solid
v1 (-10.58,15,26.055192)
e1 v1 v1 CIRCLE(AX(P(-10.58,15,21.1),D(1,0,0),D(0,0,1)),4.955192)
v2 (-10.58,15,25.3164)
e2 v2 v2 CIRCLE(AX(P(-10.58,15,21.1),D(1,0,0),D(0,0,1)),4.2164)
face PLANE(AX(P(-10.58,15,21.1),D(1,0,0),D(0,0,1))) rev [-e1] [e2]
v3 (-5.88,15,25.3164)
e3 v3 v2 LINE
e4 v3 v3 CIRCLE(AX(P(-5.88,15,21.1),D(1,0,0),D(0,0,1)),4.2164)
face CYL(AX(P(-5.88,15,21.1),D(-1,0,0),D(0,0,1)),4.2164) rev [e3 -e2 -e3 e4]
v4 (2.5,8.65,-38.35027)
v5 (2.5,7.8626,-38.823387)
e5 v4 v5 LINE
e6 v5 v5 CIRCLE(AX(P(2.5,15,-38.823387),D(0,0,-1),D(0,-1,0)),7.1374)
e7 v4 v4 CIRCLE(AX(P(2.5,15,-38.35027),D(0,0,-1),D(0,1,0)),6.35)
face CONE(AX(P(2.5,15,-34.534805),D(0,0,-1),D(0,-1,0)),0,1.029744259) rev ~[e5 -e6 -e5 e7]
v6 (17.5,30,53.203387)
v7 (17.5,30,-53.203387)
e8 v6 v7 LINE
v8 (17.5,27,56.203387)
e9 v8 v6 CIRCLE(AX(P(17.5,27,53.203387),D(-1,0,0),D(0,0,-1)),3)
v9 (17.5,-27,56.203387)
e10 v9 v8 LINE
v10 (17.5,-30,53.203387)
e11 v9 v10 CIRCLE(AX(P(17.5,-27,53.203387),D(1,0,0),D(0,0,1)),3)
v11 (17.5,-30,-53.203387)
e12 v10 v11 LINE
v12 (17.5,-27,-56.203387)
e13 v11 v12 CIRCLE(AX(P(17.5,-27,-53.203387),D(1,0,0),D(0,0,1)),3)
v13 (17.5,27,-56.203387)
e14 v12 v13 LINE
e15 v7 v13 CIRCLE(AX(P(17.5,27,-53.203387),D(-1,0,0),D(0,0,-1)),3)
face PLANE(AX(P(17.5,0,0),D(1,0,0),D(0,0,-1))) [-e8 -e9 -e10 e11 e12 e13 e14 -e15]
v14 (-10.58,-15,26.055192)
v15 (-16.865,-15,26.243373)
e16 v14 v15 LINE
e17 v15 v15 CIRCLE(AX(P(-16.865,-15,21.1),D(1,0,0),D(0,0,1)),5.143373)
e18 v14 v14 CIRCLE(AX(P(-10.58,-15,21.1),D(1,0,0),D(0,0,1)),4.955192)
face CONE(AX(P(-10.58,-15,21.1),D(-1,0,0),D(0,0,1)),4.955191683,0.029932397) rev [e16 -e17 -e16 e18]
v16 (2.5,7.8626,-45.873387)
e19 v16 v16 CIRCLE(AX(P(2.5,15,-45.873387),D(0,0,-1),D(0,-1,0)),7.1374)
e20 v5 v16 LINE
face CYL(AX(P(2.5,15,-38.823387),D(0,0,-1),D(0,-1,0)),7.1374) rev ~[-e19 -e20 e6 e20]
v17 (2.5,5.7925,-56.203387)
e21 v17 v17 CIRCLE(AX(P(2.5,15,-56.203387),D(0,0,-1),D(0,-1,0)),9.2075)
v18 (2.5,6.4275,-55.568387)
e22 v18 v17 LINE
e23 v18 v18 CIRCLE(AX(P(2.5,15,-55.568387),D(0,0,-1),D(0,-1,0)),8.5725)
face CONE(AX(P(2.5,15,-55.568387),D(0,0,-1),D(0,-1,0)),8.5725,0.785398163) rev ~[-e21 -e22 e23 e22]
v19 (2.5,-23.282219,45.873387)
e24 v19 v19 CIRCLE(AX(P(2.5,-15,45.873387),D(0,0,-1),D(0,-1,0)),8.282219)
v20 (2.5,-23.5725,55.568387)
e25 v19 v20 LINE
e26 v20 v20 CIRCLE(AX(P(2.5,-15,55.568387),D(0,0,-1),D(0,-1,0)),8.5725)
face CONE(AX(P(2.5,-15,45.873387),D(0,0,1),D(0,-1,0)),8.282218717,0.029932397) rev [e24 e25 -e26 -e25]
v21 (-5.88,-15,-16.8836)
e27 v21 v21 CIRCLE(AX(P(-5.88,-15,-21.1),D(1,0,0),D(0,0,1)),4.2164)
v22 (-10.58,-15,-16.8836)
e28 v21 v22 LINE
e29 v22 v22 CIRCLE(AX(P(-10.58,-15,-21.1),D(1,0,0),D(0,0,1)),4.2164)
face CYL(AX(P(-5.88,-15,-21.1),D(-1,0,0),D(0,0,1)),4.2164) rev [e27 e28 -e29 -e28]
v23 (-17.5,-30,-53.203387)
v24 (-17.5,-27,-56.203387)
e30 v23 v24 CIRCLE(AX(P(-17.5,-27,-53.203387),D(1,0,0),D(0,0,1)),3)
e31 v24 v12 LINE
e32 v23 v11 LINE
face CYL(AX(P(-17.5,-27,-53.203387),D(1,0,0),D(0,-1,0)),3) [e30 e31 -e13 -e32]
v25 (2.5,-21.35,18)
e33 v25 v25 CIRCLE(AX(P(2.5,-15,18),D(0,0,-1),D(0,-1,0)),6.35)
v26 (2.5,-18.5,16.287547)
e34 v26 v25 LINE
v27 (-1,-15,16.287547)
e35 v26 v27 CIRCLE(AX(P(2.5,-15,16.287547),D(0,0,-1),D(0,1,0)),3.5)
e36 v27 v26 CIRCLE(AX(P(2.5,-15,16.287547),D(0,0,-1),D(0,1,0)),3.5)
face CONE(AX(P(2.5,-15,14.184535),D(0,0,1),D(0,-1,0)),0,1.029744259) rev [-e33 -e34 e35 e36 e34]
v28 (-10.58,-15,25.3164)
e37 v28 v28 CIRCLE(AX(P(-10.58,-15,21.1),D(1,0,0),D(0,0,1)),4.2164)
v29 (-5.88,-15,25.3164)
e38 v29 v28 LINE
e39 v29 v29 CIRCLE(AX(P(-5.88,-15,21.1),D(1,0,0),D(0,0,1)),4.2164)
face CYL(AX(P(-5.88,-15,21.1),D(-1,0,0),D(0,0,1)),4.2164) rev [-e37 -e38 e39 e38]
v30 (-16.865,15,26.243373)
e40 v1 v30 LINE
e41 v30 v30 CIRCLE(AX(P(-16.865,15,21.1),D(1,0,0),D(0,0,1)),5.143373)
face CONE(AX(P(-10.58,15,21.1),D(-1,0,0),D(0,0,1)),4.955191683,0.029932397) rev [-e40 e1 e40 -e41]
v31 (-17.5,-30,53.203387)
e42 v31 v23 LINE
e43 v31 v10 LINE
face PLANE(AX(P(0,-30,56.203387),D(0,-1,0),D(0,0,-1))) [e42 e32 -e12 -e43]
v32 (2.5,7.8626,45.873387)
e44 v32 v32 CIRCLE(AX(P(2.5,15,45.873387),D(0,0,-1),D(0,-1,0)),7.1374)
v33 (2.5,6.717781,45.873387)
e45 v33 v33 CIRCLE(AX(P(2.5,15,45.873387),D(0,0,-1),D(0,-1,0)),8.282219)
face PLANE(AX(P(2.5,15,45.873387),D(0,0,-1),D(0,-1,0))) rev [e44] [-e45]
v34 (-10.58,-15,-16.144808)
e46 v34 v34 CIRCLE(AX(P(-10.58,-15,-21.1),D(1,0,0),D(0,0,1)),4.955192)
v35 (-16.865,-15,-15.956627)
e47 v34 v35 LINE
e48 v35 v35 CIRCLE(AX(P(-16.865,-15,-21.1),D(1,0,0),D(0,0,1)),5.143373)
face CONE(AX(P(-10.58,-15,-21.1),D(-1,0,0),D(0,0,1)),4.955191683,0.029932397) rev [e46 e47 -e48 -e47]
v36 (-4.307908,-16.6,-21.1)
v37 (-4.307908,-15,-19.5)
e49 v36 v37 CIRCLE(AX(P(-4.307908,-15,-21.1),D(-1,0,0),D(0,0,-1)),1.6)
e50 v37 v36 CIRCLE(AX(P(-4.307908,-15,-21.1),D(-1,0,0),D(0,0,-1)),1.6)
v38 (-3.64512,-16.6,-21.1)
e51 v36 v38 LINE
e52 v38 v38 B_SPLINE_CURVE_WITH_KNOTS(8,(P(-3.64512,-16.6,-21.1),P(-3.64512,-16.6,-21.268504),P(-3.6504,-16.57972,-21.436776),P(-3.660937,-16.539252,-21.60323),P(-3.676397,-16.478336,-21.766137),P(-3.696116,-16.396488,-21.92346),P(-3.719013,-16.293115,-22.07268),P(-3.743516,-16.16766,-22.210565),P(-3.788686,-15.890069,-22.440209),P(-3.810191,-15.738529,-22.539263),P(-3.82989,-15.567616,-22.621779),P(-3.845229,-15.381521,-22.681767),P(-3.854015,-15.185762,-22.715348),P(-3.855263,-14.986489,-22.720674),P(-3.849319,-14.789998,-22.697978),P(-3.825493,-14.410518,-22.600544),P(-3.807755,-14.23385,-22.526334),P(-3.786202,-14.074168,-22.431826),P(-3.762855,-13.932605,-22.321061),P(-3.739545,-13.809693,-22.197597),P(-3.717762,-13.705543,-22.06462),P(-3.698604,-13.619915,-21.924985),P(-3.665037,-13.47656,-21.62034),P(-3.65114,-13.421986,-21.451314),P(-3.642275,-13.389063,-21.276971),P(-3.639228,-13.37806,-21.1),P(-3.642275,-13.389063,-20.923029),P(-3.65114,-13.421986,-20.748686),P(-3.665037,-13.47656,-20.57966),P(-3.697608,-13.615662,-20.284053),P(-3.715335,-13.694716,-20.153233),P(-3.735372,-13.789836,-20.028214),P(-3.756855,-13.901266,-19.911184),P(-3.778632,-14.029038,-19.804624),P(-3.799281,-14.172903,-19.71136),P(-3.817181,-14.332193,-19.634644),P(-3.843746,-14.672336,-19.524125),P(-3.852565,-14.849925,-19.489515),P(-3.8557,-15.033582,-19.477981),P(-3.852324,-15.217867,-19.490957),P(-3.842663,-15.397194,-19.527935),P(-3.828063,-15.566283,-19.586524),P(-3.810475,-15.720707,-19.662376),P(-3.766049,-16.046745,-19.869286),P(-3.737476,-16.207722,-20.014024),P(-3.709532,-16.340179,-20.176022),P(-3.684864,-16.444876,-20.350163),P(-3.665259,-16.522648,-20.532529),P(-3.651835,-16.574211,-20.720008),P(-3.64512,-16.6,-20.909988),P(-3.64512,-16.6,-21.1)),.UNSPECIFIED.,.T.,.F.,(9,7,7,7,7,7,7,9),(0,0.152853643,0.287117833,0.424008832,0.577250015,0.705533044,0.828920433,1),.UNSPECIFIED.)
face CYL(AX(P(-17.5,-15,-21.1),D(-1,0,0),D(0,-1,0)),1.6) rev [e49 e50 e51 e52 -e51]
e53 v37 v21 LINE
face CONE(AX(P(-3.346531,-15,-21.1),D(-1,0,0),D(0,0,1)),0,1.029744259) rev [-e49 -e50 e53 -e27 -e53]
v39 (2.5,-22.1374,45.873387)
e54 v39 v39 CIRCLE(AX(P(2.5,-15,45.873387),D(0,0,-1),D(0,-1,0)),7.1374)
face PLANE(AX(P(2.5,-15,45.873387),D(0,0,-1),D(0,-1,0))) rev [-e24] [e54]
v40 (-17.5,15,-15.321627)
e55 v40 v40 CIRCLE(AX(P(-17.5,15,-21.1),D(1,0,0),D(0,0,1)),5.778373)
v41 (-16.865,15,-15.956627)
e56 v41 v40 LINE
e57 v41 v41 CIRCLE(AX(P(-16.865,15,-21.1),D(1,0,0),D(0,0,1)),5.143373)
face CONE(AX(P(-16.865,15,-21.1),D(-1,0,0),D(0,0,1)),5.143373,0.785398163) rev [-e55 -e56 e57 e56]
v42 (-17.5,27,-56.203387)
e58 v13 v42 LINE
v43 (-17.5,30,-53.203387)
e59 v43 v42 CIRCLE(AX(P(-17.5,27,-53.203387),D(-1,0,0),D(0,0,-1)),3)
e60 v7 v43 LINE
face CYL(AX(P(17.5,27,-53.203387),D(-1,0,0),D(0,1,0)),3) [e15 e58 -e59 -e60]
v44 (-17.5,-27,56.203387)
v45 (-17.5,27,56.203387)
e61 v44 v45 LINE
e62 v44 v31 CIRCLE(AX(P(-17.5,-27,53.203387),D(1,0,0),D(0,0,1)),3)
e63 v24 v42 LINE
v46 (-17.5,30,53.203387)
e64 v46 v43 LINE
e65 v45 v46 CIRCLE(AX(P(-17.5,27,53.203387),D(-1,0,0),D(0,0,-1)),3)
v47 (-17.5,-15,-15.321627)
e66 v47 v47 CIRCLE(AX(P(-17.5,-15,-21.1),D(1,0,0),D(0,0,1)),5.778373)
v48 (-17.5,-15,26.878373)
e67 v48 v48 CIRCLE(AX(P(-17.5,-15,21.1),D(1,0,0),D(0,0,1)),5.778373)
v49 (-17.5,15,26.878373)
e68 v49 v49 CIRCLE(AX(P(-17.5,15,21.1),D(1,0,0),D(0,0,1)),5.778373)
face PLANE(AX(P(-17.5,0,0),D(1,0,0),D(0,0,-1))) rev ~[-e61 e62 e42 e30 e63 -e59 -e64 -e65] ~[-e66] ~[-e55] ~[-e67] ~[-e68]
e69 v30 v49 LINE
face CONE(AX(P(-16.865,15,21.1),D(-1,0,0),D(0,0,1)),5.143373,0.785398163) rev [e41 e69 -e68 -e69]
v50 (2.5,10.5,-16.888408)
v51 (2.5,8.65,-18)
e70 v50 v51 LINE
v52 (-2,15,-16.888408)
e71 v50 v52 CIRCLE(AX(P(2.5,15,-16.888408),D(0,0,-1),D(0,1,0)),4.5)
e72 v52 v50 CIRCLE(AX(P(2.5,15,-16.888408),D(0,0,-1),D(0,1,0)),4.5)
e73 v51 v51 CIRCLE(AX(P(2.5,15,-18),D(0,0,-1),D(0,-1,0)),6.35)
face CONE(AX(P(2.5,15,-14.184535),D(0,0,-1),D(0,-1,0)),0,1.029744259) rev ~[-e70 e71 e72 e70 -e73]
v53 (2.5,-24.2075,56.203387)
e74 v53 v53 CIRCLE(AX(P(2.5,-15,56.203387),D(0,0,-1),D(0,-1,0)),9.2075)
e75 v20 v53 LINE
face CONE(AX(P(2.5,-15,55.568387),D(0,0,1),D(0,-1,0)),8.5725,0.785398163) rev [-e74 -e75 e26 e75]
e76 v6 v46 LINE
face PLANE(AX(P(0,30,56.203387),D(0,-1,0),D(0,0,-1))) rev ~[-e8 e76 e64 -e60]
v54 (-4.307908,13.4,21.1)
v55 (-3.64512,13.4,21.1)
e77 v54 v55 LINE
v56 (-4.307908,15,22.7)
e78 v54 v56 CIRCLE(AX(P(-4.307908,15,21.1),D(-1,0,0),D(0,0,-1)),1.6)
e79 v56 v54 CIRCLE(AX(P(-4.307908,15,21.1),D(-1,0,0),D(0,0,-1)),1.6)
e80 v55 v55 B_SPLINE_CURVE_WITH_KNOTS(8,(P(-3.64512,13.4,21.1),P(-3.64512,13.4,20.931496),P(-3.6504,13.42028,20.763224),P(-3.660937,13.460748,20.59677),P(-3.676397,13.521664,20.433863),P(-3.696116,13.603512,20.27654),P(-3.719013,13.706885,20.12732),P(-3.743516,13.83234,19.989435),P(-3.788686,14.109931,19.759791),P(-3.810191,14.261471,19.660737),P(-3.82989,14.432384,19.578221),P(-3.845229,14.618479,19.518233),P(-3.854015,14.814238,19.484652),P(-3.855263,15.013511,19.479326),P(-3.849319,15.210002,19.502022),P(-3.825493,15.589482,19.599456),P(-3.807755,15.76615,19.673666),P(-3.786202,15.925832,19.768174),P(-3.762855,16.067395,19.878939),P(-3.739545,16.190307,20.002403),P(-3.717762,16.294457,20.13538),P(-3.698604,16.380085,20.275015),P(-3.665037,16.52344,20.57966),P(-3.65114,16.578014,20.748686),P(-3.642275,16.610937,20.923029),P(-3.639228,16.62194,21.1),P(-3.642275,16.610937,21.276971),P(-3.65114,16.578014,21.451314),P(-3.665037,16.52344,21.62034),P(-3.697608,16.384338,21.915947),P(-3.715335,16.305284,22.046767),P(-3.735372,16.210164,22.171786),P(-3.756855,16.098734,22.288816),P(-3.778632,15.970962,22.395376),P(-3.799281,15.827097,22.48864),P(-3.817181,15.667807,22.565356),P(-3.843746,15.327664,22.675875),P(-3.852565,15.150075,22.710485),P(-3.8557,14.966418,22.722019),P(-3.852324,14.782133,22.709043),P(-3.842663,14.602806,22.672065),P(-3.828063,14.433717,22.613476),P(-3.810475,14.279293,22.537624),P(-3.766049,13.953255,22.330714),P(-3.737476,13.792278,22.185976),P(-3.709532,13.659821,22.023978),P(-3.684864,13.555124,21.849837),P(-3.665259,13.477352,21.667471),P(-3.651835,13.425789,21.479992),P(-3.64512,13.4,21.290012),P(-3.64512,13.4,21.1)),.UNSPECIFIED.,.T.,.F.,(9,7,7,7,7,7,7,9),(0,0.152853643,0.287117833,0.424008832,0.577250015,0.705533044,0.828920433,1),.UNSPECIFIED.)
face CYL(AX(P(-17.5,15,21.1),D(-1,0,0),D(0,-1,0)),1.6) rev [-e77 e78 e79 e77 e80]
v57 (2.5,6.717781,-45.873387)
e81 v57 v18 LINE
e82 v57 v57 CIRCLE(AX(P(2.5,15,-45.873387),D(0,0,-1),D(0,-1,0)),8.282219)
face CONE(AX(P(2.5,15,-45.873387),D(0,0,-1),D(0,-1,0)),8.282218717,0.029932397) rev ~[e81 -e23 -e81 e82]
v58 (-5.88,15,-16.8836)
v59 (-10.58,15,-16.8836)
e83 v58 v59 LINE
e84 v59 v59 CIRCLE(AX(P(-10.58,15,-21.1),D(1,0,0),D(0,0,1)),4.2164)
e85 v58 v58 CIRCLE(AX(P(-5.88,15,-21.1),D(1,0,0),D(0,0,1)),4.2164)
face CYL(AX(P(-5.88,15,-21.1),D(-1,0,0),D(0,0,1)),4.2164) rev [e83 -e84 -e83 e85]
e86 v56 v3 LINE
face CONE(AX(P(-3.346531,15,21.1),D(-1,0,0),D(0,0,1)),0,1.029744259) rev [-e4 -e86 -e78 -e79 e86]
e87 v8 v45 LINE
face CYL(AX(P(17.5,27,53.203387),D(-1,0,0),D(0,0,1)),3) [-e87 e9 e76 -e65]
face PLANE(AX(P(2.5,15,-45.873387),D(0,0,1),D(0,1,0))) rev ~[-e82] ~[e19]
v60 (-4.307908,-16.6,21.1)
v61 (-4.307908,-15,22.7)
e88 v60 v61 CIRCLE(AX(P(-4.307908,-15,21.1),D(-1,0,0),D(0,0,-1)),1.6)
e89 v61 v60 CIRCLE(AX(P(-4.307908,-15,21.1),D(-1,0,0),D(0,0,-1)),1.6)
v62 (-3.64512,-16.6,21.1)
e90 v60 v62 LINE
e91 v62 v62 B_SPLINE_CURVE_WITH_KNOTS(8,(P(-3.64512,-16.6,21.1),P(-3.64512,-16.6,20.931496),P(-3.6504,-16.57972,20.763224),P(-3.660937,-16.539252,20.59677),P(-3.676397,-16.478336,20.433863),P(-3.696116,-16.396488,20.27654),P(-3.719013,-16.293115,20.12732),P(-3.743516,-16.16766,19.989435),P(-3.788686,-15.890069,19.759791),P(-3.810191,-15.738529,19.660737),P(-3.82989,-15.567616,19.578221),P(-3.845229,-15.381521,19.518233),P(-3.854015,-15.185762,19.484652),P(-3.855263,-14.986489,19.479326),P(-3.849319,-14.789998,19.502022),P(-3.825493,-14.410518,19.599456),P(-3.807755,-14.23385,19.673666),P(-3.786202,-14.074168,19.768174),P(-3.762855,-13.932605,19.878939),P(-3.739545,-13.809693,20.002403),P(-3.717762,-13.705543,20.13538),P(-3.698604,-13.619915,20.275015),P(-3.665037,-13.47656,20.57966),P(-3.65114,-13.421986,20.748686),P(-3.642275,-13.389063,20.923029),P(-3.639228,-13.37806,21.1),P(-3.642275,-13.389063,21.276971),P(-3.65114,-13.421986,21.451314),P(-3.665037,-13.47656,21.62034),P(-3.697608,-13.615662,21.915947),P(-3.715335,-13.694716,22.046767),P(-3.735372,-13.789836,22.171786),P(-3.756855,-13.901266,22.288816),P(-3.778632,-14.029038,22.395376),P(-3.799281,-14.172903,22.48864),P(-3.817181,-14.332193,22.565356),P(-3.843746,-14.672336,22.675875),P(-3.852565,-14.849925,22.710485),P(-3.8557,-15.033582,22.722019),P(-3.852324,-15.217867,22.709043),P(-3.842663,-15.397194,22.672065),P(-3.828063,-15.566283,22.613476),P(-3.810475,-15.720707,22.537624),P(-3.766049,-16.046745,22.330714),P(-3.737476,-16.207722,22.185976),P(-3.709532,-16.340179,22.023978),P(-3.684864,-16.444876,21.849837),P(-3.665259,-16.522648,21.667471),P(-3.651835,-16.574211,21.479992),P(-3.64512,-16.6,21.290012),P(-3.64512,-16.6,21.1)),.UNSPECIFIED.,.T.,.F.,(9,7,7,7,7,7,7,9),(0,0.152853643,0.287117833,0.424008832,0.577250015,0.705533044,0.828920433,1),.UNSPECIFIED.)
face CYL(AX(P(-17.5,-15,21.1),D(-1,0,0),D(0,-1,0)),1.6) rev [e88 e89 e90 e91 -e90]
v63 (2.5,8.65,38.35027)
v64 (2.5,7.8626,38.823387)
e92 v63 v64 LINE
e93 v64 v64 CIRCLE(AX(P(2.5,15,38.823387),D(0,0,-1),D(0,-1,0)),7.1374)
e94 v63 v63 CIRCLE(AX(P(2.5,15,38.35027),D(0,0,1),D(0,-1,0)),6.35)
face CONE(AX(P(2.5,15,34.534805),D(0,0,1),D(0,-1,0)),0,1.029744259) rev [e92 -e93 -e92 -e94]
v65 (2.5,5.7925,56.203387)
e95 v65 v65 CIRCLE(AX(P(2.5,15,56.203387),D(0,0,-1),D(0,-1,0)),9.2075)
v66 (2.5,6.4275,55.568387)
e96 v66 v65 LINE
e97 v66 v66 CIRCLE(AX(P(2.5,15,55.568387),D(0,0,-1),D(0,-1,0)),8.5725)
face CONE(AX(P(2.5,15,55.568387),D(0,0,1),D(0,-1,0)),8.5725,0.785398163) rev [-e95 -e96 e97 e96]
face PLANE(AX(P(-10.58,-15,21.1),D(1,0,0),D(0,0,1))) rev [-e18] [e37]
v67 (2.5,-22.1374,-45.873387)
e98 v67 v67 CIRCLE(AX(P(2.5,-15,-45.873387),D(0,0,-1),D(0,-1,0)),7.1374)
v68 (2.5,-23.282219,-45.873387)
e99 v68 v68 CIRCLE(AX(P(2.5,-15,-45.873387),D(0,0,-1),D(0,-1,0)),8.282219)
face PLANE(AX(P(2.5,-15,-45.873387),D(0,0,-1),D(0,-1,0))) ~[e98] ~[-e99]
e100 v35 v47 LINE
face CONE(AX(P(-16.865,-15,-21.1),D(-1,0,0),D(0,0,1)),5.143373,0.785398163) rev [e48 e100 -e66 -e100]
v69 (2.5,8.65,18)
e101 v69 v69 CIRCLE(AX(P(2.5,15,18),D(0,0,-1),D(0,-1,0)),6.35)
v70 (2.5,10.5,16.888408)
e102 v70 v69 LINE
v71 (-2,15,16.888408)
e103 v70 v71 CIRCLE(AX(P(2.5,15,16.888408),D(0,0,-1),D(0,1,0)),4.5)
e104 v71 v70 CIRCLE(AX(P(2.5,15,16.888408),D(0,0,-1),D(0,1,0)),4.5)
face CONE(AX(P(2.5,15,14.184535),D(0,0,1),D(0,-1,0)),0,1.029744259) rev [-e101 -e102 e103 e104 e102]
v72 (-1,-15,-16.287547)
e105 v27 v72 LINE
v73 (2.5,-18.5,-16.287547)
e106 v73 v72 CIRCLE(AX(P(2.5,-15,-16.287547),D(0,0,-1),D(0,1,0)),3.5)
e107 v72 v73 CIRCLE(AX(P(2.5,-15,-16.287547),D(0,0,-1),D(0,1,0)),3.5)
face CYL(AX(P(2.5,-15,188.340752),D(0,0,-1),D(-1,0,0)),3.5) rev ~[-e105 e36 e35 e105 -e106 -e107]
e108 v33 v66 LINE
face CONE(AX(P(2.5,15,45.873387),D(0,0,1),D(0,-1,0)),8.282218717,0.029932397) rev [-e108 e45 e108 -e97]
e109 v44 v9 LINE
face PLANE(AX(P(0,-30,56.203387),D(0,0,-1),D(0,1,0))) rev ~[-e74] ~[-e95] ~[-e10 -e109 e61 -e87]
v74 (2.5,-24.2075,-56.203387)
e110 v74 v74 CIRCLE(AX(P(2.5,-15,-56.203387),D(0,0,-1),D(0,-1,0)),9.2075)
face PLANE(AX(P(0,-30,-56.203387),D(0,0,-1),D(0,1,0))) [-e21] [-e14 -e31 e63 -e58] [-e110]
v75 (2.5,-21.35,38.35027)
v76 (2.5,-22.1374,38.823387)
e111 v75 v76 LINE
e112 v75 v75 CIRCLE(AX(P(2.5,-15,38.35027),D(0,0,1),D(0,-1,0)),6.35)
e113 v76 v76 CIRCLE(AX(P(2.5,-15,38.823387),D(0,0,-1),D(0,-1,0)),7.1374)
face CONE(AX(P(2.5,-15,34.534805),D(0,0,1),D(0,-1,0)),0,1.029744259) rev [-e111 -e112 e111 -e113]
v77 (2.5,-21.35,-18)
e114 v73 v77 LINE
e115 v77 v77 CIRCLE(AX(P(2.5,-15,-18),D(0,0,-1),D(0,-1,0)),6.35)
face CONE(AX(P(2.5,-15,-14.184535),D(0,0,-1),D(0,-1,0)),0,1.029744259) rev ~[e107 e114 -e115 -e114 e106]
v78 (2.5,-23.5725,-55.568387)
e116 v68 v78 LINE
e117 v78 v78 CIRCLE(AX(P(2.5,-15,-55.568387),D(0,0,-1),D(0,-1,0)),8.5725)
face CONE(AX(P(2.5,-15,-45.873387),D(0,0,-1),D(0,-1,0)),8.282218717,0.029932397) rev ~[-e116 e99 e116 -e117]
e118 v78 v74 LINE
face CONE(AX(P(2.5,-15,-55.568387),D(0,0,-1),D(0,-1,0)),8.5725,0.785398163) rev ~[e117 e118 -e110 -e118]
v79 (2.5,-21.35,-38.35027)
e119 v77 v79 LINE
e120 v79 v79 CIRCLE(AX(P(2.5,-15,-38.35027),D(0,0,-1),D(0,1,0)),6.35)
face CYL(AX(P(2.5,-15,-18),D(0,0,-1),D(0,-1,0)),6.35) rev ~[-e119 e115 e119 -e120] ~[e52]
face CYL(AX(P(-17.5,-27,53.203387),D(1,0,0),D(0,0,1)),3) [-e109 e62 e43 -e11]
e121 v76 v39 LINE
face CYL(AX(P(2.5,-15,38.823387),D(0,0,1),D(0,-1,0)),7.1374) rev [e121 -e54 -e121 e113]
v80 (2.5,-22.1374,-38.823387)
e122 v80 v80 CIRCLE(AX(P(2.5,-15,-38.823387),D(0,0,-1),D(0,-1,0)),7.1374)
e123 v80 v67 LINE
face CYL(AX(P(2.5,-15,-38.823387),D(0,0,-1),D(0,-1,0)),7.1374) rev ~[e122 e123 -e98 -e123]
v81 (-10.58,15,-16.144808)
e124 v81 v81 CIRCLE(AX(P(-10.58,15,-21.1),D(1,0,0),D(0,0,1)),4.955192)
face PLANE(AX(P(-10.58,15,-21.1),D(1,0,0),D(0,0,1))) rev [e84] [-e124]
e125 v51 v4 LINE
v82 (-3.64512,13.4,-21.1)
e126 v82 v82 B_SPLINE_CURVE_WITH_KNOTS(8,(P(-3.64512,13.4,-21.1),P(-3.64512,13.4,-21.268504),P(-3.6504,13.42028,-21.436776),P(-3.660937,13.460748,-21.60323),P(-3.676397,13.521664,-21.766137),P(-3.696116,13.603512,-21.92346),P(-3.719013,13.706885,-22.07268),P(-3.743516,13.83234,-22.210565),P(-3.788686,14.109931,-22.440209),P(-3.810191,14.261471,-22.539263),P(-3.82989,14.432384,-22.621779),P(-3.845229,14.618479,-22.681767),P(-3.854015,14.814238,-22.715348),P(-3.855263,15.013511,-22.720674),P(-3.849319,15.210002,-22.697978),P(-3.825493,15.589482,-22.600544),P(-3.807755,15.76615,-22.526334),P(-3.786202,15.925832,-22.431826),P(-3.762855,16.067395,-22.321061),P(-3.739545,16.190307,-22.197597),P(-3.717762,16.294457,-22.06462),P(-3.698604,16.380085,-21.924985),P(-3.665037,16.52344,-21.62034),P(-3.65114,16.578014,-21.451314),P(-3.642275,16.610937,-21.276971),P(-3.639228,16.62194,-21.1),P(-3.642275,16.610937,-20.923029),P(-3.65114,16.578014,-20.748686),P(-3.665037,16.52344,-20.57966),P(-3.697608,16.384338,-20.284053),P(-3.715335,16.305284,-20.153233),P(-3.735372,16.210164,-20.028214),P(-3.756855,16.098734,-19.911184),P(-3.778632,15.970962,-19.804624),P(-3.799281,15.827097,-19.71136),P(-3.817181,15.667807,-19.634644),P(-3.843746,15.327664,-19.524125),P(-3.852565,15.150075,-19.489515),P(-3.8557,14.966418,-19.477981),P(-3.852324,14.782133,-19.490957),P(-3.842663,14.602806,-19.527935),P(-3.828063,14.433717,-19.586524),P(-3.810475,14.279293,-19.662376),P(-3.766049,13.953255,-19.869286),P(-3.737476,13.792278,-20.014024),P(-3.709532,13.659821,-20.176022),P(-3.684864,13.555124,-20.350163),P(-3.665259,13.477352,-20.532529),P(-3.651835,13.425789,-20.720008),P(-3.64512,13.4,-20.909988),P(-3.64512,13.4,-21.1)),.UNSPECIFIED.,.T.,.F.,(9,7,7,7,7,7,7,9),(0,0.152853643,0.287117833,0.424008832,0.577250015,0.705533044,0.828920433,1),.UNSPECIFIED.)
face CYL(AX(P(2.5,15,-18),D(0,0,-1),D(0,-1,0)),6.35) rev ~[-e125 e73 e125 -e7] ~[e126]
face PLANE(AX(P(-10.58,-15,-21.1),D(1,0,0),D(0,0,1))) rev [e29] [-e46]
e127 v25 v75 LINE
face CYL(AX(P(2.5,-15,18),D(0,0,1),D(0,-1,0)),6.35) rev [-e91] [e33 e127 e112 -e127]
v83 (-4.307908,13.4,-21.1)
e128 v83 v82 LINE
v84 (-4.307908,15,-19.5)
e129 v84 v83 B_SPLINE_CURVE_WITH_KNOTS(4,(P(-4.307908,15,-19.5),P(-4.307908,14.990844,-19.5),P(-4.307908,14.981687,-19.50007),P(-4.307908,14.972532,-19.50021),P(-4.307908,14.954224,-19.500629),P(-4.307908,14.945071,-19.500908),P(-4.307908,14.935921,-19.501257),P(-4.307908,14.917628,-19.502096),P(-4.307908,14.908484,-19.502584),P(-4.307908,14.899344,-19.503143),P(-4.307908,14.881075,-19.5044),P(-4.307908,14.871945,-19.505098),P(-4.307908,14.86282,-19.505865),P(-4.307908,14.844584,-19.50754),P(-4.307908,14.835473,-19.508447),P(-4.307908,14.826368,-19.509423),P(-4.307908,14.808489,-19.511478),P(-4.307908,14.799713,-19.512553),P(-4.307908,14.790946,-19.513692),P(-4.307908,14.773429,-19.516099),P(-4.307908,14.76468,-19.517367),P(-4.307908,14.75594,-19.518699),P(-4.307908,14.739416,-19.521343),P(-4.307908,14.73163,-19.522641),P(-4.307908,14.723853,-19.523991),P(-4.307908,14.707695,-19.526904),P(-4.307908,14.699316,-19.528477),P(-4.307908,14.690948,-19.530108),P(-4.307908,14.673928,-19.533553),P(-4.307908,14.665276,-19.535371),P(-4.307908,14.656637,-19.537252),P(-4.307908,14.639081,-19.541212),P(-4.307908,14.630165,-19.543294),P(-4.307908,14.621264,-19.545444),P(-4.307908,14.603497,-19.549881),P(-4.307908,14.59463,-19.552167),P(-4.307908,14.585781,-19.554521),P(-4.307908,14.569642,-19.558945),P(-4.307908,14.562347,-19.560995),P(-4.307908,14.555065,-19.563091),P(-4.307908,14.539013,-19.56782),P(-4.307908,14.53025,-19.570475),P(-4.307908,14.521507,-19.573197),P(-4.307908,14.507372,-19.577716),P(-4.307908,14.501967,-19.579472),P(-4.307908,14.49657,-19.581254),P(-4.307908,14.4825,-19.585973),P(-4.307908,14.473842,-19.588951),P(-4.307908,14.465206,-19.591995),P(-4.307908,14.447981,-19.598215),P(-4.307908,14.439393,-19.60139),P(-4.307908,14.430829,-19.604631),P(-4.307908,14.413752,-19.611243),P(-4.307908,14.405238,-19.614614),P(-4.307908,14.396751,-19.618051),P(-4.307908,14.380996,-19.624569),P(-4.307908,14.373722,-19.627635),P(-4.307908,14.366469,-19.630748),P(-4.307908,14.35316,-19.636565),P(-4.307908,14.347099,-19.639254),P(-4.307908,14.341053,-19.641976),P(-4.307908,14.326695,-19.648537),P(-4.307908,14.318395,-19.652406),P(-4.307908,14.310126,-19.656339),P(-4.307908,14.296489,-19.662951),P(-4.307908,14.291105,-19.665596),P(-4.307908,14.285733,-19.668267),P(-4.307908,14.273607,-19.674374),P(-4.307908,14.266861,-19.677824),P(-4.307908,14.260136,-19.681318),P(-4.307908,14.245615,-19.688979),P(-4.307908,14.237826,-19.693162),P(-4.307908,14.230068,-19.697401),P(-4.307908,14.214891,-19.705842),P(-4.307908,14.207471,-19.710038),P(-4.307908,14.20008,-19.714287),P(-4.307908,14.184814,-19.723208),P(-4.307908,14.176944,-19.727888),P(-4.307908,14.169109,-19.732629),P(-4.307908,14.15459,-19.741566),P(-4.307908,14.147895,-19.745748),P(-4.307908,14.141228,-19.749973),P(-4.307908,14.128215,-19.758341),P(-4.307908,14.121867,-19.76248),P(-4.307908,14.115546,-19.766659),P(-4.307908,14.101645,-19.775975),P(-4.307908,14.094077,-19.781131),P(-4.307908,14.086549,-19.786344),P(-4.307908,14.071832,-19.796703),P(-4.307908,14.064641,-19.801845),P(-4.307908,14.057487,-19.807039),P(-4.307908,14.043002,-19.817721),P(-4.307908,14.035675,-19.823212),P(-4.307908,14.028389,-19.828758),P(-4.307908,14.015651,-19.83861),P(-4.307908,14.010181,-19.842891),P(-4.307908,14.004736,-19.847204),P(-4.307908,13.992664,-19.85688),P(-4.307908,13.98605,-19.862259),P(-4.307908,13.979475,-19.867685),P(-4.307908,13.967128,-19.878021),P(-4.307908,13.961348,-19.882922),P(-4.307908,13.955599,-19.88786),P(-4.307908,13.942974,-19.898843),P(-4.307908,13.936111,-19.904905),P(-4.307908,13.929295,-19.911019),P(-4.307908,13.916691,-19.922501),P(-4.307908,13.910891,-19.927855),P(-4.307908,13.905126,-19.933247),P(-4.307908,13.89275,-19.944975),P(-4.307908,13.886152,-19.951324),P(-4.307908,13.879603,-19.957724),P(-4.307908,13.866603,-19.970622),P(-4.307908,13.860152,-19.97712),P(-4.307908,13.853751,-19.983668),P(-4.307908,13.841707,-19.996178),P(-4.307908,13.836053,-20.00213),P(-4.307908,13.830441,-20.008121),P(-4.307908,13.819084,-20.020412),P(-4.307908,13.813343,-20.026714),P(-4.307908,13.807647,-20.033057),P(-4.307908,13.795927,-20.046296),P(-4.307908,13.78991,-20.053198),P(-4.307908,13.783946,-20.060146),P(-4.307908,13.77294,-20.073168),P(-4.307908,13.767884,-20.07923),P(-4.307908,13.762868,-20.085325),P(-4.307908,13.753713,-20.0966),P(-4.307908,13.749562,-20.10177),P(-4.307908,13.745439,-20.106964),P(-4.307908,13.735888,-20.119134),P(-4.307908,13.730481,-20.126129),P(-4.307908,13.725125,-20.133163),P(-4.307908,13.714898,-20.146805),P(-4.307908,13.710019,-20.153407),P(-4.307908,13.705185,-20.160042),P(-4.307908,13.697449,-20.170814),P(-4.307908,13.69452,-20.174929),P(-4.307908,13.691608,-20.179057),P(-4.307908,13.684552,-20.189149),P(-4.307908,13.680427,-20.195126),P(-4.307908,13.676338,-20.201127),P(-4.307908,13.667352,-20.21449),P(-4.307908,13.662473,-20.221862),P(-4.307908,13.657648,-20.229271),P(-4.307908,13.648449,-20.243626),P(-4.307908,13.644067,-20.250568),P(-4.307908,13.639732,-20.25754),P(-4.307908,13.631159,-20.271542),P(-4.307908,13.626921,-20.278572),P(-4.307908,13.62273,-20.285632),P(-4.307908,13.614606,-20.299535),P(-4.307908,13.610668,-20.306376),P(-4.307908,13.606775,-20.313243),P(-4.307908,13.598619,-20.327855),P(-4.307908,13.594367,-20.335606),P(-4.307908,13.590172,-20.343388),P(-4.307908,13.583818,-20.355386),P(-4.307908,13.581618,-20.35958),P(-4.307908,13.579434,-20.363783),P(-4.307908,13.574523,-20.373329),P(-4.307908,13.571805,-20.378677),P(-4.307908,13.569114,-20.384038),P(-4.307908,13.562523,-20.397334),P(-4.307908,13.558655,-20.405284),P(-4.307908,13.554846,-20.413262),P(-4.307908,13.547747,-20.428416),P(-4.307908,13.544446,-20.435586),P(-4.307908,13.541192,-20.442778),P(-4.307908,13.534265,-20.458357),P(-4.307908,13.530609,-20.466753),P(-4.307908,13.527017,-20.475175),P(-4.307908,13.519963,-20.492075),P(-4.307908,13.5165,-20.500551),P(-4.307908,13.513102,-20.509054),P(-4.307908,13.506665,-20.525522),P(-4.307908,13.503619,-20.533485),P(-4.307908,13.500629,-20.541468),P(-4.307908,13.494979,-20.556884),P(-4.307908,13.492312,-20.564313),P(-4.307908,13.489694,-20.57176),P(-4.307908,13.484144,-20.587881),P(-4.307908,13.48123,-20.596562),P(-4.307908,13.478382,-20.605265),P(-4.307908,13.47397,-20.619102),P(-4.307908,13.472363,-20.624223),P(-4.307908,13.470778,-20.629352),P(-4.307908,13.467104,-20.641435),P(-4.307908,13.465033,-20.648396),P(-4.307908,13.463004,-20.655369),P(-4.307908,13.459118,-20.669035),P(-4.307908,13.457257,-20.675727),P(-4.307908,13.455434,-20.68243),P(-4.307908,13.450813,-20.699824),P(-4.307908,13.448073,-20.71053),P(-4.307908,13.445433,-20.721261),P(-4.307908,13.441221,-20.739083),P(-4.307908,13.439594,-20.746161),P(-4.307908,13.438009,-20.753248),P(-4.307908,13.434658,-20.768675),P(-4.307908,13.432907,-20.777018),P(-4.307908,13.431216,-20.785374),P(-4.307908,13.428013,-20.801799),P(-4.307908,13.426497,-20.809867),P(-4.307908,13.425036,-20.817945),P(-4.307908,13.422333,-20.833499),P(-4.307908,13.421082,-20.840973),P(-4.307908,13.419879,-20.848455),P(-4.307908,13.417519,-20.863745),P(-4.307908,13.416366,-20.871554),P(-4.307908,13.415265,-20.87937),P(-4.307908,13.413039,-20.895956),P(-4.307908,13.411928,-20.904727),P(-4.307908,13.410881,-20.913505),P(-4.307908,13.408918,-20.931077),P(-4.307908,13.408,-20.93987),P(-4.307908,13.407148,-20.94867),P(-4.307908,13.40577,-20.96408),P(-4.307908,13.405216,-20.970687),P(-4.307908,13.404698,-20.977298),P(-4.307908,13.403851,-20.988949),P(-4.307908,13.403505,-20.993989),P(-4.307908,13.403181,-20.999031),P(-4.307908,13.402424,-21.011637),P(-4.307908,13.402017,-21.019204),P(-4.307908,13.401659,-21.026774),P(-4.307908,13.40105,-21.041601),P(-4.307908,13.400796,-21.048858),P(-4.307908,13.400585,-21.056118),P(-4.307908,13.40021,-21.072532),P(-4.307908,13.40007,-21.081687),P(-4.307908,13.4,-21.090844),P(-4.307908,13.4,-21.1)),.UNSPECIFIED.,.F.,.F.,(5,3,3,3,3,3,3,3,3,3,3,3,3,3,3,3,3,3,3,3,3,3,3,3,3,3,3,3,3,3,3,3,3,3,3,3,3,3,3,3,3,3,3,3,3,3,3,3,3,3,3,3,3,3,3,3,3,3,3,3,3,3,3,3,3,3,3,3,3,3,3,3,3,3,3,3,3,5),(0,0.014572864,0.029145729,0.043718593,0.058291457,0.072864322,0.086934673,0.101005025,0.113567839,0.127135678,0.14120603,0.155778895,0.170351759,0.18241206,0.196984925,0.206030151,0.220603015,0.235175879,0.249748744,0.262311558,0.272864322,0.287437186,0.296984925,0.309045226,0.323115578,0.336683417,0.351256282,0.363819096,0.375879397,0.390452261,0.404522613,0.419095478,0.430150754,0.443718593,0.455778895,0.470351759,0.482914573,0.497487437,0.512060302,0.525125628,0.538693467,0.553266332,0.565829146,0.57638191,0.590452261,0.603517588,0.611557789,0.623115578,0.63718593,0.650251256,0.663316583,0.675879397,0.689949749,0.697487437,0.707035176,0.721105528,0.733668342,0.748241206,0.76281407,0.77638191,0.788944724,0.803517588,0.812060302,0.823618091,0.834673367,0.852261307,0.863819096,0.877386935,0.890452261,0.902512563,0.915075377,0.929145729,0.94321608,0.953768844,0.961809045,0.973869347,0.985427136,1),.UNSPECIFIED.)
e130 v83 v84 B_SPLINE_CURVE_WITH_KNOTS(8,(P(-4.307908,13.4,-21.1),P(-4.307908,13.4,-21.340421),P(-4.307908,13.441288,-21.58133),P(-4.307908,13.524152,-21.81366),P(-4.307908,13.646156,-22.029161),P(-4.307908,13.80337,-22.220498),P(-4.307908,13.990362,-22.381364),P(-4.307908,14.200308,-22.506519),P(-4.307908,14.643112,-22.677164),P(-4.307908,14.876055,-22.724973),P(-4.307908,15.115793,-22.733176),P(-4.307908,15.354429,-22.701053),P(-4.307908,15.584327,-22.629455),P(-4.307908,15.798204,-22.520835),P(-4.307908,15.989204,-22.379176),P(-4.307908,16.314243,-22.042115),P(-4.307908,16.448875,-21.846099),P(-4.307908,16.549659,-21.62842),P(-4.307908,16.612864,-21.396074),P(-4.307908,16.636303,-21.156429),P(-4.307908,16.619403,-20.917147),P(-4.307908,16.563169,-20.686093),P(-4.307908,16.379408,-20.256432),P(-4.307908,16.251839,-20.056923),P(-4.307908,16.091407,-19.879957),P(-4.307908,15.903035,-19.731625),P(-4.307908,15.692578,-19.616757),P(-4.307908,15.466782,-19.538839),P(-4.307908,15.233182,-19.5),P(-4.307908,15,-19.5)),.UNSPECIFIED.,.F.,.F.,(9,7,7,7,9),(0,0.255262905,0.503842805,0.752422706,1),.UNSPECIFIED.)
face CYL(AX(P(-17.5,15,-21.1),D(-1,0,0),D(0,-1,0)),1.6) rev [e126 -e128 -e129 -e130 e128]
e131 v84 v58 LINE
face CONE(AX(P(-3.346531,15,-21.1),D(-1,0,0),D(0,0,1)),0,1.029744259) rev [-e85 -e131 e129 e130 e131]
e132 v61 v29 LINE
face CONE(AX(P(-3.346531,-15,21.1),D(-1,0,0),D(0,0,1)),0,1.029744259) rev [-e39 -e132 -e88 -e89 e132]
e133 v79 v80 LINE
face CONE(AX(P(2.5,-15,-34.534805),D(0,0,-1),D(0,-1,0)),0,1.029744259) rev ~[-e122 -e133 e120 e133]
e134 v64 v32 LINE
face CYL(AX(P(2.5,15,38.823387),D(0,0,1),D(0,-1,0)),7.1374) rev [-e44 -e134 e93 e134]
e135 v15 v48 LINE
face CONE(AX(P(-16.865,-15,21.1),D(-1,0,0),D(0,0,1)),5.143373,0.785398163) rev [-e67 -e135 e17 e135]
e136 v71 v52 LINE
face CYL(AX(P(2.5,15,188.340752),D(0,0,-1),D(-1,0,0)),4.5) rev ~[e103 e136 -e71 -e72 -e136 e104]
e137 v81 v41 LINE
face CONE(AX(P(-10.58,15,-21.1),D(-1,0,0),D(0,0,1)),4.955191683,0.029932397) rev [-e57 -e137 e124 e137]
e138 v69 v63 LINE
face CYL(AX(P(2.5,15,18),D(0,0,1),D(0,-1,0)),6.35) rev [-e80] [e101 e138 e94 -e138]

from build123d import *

# Parameters (mm, degrees)
BLOCK_SKETCH_W                                 = 112.406774914
BLOCK_SKETCH_H                                 = 60
BLOCK_DEPTH                                    = 17.5
F_3_8_NPT_FLOW_CONNECTOR_AT_2_COUNT            = 2
F_3_8_NPT_FLOW_CONNECTOR_AT_2_PITCH            = 30
F_1_8_NPT_PRESSURE_SENSOR_CONNECTOR_AT_2_COUNT = 2
F_1_8_NPT_PRESSURE_SENSOR_CONNECTOR_AT_2_PITCH = 42.2
F_1_8_NPT_PRESSURE_SENSOR_CONNECTOR_AT_3_COUNT = 2
F_1_8_NPT_PRESSURE_SENSOR_CONNECTOR_AT_3_PITCH = 51.776828794
F_1_8_NPT_PRESSURE_SENSOR_CONNECTOR_AT_4_COUNT = 2
F_1_8_NPT_PRESSURE_SENSOR_CONNECTOR_AT_4_PITCH = 30
PRESSURE_SENSOR_HOLE_REACH                     = 37
SKETCH11_R                                     = 1.6
M8X1_0_TAPPED_HOLE1_D                          = 7
M10X1_0_TAPPED_HOLE1_D                         = 9
ROUNDED_EDGES_R                                = 3


with BuildPart() as part:
    # block_sketch → block (new body, symmetric)
    with BuildSketch(Plane(origin=(0, 0, 0), x_dir=(0, 0, -1), z_dir=(1, 0, 0))):
        Rectangle(BLOCK_SKETCH_W, BLOCK_SKETCH_H)
    extrude(amount=BLOCK_DEPTH, both=True)

    # Sketch6 → 3/8 NPT_flow_connector (revolve, cut)
    with BuildSketch(Plane(origin=(2.5, 15, 56.203387457), x_dir=(0, -1, 0), z_dir=(1, 0, 0))):
        Polygon((0, 0), (0, 21.668582582), (7.1374, 17.38), (7.1374, 10.33), (8.282218717, 10.33), (8.5725, 0.635), (9.2075, 0), align=None)
    f_3_8_npt_flow_connector = revolve(axis=Axis((2.5, 15, 62.553387457), (0, 0, -1)), mode=Mode.SUBTRACT)

    # 3/8 NPT_flow_connector at 2: 3/8 NPT_flow_connector ×2
    with Locations(*[(0, -i * F_3_8_NPT_FLOW_CONNECTOR_AT_2_PITCH, 0) for i in range(1, F_3_8_NPT_FLOW_CONNECTOR_AT_2_COUNT)]):
        add(f_3_8_npt_flow_connector, mode=Mode.SUBTRACT)

    # Sketch15 → M8_flow_channel (revolve, cut)
    with BuildSketch(Plane(origin=(2.5, -15, 56.203387457), x_dir=(0, -1, 0), z_dir=(1, 0, 0))):
        Polygon((0, 0), (0, 42.018852388), (6.35, 38.203387457), (6.35, 0), align=None)
    m8_flow_channel = revolve(axis=Axis((2.5, -15, 62.553387457), (0, 0, -1)), mode=Mode.SUBTRACT)

    # Sketch20 → M10_flow_channel (revolve, cut)
    with BuildSketch(Plane(origin=(2.5, 15, 56.203387457), x_dir=(0, -1, 0), z_dir=(1, 0, 0))):
        Polygon((0, 0), (0, 42.018852388), (6.35, 38.203387457), (6.35, 0), align=None)
    m10_flow_channel = revolve(axis=Axis((2.5, 15, 62.553387457), (0, 0, -1)), mode=Mode.SUBTRACT)

    # flow_mirror: M10_flow_channel, 3/8 NPT_flow_connector, M8_flow_channel across plane
    add(m10_flow_channel.mirror(Plane.XY), mode=Mode.SUBTRACT)
    add(f_3_8_npt_flow_connector.mirror(Plane.XY), mode=Mode.SUBTRACT)
    add(m8_flow_channel.mirror(Plane.XY), mode=Mode.SUBTRACT)

    # flow_mirror copy 1 sketch → flow_mirror copy 1 (revolve, cut)
    with BuildSketch(Plane(origin=(2.5, -15, -56.203387457), x_dir=(0, -1, 0), z_dir=(1, 0, 0))):
        Polygon((0, 0), (0, -21.668582582), (7.1374, -17.38), (7.1374, -10.33), (8.282218717, -10.33), (8.5725, -0.635), (9.2075, 0), align=None)
    revolve(axis=Axis((2.5, -15, -62.553387457), (0, 0, -1)), mode=Mode.SUBTRACT)

    # Sketch4 → 1/8 NPT_pressure_sensor_connector (revolve, cut)
    with BuildSketch(Plane(origin=(-17.5, -15, 21.1), x_dir=(0, 0, 1), z_dir=(0, 1, 0))):
        Polygon((0, 0), (0, 14.153468714), (4.2164, 11.62), (4.2164, 6.92), (4.955191683, 6.92), (5.143373, 0.635), (5.778373, 0), align=None)
    f_1_8_npt_pressure_sensor_connector = revolve(axis=Axis((-23.85, -15, 21.1), (1, 0, 0)), mode=Mode.SUBTRACT)

    # 1/8 NPT_pressure_sensor_connector at 2: 1/8 NPT_pressure_sensor_connector ×2
    with Locations(*[(0, 0, -i * F_1_8_NPT_PRESSURE_SENSOR_CONNECTOR_AT_2_PITCH) for i in range(1, F_1_8_NPT_PRESSURE_SENSOR_CONNECTOR_AT_2_COUNT)]):
        add(f_1_8_npt_pressure_sensor_connector, mode=Mode.SUBTRACT)

    # 1/8 NPT_pressure_sensor_connector at 3: 1/8 NPT_pressure_sensor_connector ×2
    with Locations(*[Vector(0, 0.579409761, -0.815036397) * (i * F_1_8_NPT_PRESSURE_SENSOR_CONNECTOR_AT_3_PITCH) for i in range(1, F_1_8_NPT_PRESSURE_SENSOR_CONNECTOR_AT_3_COUNT)]):
        add(f_1_8_npt_pressure_sensor_connector, mode=Mode.SUBTRACT)

    # 1/8 NPT_pressure_sensor_connector at 4: 1/8 NPT_pressure_sensor_connector ×2
    with Locations(*[(0, i * F_1_8_NPT_PRESSURE_SENSOR_CONNECTOR_AT_4_PITCH, 0) for i in range(1, F_1_8_NPT_PRESSURE_SENSOR_CONNECTOR_AT_4_COUNT)]):
        add(f_1_8_npt_pressure_sensor_connector, mode=Mode.SUBTRACT)

    # Sketch11 → pressure_sensor_hole (cut, up to next)
    with BuildSketch(Plane(origin=(-17.5, 14.596917944, 0), x_dir=(0, -1, 0), z_dir=(1, 0, 0)), mode=Mode.PRIVATE) as pressure_sensor_hole_sk1:
        with Locations((29.596917944, 21.1)):
            Circle(SKETCH11_R)
    pressure_sensor_hole_tool1 = extrude(pressure_sensor_hole_sk1.sketch, amount=PRESSURE_SENSOR_HOLE_REACH, mode=Mode.PRIVATE) & part.part
    add(pressure_sensor_hole_tool1.solids().sort_by_distance((-17.5, -15, -21.1))[0], mode=Mode.SUBTRACT)
    # Sketch11 → pressure_sensor_hole (cut, up to next)
    with BuildSketch(Plane(origin=(-17.5, 14.596917944, 0), x_dir=(0, -1, 0), z_dir=(1, 0, 0)), mode=Mode.PRIVATE) as pressure_sensor_hole_sk2:
        with Locations((29.596917944, -21.1)):
            Circle(SKETCH11_R)
    pressure_sensor_hole_tool2 = extrude(pressure_sensor_hole_sk2.sketch, amount=PRESSURE_SENSOR_HOLE_REACH, mode=Mode.PRIVATE) & part.part
    add(pressure_sensor_hole_tool2.solids().sort_by_distance((-17.5, -15, 21.1))[0], mode=Mode.SUBTRACT)
    # Sketch11 → pressure_sensor_hole (cut, up to next)
    with BuildSketch(Plane(origin=(-17.5, 14.596917944, 0), x_dir=(0, -1, 0), z_dir=(1, 0, 0)), mode=Mode.PRIVATE) as pressure_sensor_hole_sk3:
        with Locations((-0.403082056, 21.1)):
            Circle(SKETCH11_R)
    pressure_sensor_hole_tool3 = extrude(pressure_sensor_hole_sk3.sketch, amount=PRESSURE_SENSOR_HOLE_REACH, mode=Mode.PRIVATE) & part.part
    add(pressure_sensor_hole_tool3.solids().sort_by_distance((-17.5, 15, -21.1))[0], mode=Mode.SUBTRACT)
    # Sketch11 → pressure_sensor_hole (cut, up to next)
    with BuildSketch(Plane(origin=(-17.5, 14.596917944, 0), x_dir=(0, -1, 0), z_dir=(1, 0, 0)), mode=Mode.PRIVATE) as pressure_sensor_hole_sk4:
        with Locations((-0.403082056, -21.1)):
            Circle(SKETCH11_R)
    pressure_sensor_hole_tool4 = extrude(pressure_sensor_hole_sk4.sketch, amount=PRESSURE_SENSOR_HOLE_REACH, mode=Mode.PRIVATE) & part.part
    add(pressure_sensor_hole_tool4.solids().sort_by_distance((-17.5, 15, 21.1))[0], mode=Mode.SUBTRACT)

    # M8x1.0 Tapped Hole1 (through all)
    with Locations(Plane.XY.offset(56.203387457)):
        with Locations((2.5, -15)):
            Hole(M8X1_0_TAPPED_HOLE1_D / 2)

    # M10x1.0 Tapped Hole1 (through all)
    with Locations(Plane.XY.offset(56.203387457)):
        with Locations((2.5, 15)):
            Hole(M10X1_0_TAPPED_HOLE1_D / 2)

    # rounded_edges
    rounded_edges_edges = [part.edges().sort_by_distance(p)[0] for p in [
        (0, 30, 56.203387457),
        (0, 30, -56.203387457),
        (0, -30, -56.203387457),
        (0, -30, 56.203387457),
    ]]
    fillet(rounded_edges_edges, radius=ROUNDED_EDGES_R)


solid = part.part
